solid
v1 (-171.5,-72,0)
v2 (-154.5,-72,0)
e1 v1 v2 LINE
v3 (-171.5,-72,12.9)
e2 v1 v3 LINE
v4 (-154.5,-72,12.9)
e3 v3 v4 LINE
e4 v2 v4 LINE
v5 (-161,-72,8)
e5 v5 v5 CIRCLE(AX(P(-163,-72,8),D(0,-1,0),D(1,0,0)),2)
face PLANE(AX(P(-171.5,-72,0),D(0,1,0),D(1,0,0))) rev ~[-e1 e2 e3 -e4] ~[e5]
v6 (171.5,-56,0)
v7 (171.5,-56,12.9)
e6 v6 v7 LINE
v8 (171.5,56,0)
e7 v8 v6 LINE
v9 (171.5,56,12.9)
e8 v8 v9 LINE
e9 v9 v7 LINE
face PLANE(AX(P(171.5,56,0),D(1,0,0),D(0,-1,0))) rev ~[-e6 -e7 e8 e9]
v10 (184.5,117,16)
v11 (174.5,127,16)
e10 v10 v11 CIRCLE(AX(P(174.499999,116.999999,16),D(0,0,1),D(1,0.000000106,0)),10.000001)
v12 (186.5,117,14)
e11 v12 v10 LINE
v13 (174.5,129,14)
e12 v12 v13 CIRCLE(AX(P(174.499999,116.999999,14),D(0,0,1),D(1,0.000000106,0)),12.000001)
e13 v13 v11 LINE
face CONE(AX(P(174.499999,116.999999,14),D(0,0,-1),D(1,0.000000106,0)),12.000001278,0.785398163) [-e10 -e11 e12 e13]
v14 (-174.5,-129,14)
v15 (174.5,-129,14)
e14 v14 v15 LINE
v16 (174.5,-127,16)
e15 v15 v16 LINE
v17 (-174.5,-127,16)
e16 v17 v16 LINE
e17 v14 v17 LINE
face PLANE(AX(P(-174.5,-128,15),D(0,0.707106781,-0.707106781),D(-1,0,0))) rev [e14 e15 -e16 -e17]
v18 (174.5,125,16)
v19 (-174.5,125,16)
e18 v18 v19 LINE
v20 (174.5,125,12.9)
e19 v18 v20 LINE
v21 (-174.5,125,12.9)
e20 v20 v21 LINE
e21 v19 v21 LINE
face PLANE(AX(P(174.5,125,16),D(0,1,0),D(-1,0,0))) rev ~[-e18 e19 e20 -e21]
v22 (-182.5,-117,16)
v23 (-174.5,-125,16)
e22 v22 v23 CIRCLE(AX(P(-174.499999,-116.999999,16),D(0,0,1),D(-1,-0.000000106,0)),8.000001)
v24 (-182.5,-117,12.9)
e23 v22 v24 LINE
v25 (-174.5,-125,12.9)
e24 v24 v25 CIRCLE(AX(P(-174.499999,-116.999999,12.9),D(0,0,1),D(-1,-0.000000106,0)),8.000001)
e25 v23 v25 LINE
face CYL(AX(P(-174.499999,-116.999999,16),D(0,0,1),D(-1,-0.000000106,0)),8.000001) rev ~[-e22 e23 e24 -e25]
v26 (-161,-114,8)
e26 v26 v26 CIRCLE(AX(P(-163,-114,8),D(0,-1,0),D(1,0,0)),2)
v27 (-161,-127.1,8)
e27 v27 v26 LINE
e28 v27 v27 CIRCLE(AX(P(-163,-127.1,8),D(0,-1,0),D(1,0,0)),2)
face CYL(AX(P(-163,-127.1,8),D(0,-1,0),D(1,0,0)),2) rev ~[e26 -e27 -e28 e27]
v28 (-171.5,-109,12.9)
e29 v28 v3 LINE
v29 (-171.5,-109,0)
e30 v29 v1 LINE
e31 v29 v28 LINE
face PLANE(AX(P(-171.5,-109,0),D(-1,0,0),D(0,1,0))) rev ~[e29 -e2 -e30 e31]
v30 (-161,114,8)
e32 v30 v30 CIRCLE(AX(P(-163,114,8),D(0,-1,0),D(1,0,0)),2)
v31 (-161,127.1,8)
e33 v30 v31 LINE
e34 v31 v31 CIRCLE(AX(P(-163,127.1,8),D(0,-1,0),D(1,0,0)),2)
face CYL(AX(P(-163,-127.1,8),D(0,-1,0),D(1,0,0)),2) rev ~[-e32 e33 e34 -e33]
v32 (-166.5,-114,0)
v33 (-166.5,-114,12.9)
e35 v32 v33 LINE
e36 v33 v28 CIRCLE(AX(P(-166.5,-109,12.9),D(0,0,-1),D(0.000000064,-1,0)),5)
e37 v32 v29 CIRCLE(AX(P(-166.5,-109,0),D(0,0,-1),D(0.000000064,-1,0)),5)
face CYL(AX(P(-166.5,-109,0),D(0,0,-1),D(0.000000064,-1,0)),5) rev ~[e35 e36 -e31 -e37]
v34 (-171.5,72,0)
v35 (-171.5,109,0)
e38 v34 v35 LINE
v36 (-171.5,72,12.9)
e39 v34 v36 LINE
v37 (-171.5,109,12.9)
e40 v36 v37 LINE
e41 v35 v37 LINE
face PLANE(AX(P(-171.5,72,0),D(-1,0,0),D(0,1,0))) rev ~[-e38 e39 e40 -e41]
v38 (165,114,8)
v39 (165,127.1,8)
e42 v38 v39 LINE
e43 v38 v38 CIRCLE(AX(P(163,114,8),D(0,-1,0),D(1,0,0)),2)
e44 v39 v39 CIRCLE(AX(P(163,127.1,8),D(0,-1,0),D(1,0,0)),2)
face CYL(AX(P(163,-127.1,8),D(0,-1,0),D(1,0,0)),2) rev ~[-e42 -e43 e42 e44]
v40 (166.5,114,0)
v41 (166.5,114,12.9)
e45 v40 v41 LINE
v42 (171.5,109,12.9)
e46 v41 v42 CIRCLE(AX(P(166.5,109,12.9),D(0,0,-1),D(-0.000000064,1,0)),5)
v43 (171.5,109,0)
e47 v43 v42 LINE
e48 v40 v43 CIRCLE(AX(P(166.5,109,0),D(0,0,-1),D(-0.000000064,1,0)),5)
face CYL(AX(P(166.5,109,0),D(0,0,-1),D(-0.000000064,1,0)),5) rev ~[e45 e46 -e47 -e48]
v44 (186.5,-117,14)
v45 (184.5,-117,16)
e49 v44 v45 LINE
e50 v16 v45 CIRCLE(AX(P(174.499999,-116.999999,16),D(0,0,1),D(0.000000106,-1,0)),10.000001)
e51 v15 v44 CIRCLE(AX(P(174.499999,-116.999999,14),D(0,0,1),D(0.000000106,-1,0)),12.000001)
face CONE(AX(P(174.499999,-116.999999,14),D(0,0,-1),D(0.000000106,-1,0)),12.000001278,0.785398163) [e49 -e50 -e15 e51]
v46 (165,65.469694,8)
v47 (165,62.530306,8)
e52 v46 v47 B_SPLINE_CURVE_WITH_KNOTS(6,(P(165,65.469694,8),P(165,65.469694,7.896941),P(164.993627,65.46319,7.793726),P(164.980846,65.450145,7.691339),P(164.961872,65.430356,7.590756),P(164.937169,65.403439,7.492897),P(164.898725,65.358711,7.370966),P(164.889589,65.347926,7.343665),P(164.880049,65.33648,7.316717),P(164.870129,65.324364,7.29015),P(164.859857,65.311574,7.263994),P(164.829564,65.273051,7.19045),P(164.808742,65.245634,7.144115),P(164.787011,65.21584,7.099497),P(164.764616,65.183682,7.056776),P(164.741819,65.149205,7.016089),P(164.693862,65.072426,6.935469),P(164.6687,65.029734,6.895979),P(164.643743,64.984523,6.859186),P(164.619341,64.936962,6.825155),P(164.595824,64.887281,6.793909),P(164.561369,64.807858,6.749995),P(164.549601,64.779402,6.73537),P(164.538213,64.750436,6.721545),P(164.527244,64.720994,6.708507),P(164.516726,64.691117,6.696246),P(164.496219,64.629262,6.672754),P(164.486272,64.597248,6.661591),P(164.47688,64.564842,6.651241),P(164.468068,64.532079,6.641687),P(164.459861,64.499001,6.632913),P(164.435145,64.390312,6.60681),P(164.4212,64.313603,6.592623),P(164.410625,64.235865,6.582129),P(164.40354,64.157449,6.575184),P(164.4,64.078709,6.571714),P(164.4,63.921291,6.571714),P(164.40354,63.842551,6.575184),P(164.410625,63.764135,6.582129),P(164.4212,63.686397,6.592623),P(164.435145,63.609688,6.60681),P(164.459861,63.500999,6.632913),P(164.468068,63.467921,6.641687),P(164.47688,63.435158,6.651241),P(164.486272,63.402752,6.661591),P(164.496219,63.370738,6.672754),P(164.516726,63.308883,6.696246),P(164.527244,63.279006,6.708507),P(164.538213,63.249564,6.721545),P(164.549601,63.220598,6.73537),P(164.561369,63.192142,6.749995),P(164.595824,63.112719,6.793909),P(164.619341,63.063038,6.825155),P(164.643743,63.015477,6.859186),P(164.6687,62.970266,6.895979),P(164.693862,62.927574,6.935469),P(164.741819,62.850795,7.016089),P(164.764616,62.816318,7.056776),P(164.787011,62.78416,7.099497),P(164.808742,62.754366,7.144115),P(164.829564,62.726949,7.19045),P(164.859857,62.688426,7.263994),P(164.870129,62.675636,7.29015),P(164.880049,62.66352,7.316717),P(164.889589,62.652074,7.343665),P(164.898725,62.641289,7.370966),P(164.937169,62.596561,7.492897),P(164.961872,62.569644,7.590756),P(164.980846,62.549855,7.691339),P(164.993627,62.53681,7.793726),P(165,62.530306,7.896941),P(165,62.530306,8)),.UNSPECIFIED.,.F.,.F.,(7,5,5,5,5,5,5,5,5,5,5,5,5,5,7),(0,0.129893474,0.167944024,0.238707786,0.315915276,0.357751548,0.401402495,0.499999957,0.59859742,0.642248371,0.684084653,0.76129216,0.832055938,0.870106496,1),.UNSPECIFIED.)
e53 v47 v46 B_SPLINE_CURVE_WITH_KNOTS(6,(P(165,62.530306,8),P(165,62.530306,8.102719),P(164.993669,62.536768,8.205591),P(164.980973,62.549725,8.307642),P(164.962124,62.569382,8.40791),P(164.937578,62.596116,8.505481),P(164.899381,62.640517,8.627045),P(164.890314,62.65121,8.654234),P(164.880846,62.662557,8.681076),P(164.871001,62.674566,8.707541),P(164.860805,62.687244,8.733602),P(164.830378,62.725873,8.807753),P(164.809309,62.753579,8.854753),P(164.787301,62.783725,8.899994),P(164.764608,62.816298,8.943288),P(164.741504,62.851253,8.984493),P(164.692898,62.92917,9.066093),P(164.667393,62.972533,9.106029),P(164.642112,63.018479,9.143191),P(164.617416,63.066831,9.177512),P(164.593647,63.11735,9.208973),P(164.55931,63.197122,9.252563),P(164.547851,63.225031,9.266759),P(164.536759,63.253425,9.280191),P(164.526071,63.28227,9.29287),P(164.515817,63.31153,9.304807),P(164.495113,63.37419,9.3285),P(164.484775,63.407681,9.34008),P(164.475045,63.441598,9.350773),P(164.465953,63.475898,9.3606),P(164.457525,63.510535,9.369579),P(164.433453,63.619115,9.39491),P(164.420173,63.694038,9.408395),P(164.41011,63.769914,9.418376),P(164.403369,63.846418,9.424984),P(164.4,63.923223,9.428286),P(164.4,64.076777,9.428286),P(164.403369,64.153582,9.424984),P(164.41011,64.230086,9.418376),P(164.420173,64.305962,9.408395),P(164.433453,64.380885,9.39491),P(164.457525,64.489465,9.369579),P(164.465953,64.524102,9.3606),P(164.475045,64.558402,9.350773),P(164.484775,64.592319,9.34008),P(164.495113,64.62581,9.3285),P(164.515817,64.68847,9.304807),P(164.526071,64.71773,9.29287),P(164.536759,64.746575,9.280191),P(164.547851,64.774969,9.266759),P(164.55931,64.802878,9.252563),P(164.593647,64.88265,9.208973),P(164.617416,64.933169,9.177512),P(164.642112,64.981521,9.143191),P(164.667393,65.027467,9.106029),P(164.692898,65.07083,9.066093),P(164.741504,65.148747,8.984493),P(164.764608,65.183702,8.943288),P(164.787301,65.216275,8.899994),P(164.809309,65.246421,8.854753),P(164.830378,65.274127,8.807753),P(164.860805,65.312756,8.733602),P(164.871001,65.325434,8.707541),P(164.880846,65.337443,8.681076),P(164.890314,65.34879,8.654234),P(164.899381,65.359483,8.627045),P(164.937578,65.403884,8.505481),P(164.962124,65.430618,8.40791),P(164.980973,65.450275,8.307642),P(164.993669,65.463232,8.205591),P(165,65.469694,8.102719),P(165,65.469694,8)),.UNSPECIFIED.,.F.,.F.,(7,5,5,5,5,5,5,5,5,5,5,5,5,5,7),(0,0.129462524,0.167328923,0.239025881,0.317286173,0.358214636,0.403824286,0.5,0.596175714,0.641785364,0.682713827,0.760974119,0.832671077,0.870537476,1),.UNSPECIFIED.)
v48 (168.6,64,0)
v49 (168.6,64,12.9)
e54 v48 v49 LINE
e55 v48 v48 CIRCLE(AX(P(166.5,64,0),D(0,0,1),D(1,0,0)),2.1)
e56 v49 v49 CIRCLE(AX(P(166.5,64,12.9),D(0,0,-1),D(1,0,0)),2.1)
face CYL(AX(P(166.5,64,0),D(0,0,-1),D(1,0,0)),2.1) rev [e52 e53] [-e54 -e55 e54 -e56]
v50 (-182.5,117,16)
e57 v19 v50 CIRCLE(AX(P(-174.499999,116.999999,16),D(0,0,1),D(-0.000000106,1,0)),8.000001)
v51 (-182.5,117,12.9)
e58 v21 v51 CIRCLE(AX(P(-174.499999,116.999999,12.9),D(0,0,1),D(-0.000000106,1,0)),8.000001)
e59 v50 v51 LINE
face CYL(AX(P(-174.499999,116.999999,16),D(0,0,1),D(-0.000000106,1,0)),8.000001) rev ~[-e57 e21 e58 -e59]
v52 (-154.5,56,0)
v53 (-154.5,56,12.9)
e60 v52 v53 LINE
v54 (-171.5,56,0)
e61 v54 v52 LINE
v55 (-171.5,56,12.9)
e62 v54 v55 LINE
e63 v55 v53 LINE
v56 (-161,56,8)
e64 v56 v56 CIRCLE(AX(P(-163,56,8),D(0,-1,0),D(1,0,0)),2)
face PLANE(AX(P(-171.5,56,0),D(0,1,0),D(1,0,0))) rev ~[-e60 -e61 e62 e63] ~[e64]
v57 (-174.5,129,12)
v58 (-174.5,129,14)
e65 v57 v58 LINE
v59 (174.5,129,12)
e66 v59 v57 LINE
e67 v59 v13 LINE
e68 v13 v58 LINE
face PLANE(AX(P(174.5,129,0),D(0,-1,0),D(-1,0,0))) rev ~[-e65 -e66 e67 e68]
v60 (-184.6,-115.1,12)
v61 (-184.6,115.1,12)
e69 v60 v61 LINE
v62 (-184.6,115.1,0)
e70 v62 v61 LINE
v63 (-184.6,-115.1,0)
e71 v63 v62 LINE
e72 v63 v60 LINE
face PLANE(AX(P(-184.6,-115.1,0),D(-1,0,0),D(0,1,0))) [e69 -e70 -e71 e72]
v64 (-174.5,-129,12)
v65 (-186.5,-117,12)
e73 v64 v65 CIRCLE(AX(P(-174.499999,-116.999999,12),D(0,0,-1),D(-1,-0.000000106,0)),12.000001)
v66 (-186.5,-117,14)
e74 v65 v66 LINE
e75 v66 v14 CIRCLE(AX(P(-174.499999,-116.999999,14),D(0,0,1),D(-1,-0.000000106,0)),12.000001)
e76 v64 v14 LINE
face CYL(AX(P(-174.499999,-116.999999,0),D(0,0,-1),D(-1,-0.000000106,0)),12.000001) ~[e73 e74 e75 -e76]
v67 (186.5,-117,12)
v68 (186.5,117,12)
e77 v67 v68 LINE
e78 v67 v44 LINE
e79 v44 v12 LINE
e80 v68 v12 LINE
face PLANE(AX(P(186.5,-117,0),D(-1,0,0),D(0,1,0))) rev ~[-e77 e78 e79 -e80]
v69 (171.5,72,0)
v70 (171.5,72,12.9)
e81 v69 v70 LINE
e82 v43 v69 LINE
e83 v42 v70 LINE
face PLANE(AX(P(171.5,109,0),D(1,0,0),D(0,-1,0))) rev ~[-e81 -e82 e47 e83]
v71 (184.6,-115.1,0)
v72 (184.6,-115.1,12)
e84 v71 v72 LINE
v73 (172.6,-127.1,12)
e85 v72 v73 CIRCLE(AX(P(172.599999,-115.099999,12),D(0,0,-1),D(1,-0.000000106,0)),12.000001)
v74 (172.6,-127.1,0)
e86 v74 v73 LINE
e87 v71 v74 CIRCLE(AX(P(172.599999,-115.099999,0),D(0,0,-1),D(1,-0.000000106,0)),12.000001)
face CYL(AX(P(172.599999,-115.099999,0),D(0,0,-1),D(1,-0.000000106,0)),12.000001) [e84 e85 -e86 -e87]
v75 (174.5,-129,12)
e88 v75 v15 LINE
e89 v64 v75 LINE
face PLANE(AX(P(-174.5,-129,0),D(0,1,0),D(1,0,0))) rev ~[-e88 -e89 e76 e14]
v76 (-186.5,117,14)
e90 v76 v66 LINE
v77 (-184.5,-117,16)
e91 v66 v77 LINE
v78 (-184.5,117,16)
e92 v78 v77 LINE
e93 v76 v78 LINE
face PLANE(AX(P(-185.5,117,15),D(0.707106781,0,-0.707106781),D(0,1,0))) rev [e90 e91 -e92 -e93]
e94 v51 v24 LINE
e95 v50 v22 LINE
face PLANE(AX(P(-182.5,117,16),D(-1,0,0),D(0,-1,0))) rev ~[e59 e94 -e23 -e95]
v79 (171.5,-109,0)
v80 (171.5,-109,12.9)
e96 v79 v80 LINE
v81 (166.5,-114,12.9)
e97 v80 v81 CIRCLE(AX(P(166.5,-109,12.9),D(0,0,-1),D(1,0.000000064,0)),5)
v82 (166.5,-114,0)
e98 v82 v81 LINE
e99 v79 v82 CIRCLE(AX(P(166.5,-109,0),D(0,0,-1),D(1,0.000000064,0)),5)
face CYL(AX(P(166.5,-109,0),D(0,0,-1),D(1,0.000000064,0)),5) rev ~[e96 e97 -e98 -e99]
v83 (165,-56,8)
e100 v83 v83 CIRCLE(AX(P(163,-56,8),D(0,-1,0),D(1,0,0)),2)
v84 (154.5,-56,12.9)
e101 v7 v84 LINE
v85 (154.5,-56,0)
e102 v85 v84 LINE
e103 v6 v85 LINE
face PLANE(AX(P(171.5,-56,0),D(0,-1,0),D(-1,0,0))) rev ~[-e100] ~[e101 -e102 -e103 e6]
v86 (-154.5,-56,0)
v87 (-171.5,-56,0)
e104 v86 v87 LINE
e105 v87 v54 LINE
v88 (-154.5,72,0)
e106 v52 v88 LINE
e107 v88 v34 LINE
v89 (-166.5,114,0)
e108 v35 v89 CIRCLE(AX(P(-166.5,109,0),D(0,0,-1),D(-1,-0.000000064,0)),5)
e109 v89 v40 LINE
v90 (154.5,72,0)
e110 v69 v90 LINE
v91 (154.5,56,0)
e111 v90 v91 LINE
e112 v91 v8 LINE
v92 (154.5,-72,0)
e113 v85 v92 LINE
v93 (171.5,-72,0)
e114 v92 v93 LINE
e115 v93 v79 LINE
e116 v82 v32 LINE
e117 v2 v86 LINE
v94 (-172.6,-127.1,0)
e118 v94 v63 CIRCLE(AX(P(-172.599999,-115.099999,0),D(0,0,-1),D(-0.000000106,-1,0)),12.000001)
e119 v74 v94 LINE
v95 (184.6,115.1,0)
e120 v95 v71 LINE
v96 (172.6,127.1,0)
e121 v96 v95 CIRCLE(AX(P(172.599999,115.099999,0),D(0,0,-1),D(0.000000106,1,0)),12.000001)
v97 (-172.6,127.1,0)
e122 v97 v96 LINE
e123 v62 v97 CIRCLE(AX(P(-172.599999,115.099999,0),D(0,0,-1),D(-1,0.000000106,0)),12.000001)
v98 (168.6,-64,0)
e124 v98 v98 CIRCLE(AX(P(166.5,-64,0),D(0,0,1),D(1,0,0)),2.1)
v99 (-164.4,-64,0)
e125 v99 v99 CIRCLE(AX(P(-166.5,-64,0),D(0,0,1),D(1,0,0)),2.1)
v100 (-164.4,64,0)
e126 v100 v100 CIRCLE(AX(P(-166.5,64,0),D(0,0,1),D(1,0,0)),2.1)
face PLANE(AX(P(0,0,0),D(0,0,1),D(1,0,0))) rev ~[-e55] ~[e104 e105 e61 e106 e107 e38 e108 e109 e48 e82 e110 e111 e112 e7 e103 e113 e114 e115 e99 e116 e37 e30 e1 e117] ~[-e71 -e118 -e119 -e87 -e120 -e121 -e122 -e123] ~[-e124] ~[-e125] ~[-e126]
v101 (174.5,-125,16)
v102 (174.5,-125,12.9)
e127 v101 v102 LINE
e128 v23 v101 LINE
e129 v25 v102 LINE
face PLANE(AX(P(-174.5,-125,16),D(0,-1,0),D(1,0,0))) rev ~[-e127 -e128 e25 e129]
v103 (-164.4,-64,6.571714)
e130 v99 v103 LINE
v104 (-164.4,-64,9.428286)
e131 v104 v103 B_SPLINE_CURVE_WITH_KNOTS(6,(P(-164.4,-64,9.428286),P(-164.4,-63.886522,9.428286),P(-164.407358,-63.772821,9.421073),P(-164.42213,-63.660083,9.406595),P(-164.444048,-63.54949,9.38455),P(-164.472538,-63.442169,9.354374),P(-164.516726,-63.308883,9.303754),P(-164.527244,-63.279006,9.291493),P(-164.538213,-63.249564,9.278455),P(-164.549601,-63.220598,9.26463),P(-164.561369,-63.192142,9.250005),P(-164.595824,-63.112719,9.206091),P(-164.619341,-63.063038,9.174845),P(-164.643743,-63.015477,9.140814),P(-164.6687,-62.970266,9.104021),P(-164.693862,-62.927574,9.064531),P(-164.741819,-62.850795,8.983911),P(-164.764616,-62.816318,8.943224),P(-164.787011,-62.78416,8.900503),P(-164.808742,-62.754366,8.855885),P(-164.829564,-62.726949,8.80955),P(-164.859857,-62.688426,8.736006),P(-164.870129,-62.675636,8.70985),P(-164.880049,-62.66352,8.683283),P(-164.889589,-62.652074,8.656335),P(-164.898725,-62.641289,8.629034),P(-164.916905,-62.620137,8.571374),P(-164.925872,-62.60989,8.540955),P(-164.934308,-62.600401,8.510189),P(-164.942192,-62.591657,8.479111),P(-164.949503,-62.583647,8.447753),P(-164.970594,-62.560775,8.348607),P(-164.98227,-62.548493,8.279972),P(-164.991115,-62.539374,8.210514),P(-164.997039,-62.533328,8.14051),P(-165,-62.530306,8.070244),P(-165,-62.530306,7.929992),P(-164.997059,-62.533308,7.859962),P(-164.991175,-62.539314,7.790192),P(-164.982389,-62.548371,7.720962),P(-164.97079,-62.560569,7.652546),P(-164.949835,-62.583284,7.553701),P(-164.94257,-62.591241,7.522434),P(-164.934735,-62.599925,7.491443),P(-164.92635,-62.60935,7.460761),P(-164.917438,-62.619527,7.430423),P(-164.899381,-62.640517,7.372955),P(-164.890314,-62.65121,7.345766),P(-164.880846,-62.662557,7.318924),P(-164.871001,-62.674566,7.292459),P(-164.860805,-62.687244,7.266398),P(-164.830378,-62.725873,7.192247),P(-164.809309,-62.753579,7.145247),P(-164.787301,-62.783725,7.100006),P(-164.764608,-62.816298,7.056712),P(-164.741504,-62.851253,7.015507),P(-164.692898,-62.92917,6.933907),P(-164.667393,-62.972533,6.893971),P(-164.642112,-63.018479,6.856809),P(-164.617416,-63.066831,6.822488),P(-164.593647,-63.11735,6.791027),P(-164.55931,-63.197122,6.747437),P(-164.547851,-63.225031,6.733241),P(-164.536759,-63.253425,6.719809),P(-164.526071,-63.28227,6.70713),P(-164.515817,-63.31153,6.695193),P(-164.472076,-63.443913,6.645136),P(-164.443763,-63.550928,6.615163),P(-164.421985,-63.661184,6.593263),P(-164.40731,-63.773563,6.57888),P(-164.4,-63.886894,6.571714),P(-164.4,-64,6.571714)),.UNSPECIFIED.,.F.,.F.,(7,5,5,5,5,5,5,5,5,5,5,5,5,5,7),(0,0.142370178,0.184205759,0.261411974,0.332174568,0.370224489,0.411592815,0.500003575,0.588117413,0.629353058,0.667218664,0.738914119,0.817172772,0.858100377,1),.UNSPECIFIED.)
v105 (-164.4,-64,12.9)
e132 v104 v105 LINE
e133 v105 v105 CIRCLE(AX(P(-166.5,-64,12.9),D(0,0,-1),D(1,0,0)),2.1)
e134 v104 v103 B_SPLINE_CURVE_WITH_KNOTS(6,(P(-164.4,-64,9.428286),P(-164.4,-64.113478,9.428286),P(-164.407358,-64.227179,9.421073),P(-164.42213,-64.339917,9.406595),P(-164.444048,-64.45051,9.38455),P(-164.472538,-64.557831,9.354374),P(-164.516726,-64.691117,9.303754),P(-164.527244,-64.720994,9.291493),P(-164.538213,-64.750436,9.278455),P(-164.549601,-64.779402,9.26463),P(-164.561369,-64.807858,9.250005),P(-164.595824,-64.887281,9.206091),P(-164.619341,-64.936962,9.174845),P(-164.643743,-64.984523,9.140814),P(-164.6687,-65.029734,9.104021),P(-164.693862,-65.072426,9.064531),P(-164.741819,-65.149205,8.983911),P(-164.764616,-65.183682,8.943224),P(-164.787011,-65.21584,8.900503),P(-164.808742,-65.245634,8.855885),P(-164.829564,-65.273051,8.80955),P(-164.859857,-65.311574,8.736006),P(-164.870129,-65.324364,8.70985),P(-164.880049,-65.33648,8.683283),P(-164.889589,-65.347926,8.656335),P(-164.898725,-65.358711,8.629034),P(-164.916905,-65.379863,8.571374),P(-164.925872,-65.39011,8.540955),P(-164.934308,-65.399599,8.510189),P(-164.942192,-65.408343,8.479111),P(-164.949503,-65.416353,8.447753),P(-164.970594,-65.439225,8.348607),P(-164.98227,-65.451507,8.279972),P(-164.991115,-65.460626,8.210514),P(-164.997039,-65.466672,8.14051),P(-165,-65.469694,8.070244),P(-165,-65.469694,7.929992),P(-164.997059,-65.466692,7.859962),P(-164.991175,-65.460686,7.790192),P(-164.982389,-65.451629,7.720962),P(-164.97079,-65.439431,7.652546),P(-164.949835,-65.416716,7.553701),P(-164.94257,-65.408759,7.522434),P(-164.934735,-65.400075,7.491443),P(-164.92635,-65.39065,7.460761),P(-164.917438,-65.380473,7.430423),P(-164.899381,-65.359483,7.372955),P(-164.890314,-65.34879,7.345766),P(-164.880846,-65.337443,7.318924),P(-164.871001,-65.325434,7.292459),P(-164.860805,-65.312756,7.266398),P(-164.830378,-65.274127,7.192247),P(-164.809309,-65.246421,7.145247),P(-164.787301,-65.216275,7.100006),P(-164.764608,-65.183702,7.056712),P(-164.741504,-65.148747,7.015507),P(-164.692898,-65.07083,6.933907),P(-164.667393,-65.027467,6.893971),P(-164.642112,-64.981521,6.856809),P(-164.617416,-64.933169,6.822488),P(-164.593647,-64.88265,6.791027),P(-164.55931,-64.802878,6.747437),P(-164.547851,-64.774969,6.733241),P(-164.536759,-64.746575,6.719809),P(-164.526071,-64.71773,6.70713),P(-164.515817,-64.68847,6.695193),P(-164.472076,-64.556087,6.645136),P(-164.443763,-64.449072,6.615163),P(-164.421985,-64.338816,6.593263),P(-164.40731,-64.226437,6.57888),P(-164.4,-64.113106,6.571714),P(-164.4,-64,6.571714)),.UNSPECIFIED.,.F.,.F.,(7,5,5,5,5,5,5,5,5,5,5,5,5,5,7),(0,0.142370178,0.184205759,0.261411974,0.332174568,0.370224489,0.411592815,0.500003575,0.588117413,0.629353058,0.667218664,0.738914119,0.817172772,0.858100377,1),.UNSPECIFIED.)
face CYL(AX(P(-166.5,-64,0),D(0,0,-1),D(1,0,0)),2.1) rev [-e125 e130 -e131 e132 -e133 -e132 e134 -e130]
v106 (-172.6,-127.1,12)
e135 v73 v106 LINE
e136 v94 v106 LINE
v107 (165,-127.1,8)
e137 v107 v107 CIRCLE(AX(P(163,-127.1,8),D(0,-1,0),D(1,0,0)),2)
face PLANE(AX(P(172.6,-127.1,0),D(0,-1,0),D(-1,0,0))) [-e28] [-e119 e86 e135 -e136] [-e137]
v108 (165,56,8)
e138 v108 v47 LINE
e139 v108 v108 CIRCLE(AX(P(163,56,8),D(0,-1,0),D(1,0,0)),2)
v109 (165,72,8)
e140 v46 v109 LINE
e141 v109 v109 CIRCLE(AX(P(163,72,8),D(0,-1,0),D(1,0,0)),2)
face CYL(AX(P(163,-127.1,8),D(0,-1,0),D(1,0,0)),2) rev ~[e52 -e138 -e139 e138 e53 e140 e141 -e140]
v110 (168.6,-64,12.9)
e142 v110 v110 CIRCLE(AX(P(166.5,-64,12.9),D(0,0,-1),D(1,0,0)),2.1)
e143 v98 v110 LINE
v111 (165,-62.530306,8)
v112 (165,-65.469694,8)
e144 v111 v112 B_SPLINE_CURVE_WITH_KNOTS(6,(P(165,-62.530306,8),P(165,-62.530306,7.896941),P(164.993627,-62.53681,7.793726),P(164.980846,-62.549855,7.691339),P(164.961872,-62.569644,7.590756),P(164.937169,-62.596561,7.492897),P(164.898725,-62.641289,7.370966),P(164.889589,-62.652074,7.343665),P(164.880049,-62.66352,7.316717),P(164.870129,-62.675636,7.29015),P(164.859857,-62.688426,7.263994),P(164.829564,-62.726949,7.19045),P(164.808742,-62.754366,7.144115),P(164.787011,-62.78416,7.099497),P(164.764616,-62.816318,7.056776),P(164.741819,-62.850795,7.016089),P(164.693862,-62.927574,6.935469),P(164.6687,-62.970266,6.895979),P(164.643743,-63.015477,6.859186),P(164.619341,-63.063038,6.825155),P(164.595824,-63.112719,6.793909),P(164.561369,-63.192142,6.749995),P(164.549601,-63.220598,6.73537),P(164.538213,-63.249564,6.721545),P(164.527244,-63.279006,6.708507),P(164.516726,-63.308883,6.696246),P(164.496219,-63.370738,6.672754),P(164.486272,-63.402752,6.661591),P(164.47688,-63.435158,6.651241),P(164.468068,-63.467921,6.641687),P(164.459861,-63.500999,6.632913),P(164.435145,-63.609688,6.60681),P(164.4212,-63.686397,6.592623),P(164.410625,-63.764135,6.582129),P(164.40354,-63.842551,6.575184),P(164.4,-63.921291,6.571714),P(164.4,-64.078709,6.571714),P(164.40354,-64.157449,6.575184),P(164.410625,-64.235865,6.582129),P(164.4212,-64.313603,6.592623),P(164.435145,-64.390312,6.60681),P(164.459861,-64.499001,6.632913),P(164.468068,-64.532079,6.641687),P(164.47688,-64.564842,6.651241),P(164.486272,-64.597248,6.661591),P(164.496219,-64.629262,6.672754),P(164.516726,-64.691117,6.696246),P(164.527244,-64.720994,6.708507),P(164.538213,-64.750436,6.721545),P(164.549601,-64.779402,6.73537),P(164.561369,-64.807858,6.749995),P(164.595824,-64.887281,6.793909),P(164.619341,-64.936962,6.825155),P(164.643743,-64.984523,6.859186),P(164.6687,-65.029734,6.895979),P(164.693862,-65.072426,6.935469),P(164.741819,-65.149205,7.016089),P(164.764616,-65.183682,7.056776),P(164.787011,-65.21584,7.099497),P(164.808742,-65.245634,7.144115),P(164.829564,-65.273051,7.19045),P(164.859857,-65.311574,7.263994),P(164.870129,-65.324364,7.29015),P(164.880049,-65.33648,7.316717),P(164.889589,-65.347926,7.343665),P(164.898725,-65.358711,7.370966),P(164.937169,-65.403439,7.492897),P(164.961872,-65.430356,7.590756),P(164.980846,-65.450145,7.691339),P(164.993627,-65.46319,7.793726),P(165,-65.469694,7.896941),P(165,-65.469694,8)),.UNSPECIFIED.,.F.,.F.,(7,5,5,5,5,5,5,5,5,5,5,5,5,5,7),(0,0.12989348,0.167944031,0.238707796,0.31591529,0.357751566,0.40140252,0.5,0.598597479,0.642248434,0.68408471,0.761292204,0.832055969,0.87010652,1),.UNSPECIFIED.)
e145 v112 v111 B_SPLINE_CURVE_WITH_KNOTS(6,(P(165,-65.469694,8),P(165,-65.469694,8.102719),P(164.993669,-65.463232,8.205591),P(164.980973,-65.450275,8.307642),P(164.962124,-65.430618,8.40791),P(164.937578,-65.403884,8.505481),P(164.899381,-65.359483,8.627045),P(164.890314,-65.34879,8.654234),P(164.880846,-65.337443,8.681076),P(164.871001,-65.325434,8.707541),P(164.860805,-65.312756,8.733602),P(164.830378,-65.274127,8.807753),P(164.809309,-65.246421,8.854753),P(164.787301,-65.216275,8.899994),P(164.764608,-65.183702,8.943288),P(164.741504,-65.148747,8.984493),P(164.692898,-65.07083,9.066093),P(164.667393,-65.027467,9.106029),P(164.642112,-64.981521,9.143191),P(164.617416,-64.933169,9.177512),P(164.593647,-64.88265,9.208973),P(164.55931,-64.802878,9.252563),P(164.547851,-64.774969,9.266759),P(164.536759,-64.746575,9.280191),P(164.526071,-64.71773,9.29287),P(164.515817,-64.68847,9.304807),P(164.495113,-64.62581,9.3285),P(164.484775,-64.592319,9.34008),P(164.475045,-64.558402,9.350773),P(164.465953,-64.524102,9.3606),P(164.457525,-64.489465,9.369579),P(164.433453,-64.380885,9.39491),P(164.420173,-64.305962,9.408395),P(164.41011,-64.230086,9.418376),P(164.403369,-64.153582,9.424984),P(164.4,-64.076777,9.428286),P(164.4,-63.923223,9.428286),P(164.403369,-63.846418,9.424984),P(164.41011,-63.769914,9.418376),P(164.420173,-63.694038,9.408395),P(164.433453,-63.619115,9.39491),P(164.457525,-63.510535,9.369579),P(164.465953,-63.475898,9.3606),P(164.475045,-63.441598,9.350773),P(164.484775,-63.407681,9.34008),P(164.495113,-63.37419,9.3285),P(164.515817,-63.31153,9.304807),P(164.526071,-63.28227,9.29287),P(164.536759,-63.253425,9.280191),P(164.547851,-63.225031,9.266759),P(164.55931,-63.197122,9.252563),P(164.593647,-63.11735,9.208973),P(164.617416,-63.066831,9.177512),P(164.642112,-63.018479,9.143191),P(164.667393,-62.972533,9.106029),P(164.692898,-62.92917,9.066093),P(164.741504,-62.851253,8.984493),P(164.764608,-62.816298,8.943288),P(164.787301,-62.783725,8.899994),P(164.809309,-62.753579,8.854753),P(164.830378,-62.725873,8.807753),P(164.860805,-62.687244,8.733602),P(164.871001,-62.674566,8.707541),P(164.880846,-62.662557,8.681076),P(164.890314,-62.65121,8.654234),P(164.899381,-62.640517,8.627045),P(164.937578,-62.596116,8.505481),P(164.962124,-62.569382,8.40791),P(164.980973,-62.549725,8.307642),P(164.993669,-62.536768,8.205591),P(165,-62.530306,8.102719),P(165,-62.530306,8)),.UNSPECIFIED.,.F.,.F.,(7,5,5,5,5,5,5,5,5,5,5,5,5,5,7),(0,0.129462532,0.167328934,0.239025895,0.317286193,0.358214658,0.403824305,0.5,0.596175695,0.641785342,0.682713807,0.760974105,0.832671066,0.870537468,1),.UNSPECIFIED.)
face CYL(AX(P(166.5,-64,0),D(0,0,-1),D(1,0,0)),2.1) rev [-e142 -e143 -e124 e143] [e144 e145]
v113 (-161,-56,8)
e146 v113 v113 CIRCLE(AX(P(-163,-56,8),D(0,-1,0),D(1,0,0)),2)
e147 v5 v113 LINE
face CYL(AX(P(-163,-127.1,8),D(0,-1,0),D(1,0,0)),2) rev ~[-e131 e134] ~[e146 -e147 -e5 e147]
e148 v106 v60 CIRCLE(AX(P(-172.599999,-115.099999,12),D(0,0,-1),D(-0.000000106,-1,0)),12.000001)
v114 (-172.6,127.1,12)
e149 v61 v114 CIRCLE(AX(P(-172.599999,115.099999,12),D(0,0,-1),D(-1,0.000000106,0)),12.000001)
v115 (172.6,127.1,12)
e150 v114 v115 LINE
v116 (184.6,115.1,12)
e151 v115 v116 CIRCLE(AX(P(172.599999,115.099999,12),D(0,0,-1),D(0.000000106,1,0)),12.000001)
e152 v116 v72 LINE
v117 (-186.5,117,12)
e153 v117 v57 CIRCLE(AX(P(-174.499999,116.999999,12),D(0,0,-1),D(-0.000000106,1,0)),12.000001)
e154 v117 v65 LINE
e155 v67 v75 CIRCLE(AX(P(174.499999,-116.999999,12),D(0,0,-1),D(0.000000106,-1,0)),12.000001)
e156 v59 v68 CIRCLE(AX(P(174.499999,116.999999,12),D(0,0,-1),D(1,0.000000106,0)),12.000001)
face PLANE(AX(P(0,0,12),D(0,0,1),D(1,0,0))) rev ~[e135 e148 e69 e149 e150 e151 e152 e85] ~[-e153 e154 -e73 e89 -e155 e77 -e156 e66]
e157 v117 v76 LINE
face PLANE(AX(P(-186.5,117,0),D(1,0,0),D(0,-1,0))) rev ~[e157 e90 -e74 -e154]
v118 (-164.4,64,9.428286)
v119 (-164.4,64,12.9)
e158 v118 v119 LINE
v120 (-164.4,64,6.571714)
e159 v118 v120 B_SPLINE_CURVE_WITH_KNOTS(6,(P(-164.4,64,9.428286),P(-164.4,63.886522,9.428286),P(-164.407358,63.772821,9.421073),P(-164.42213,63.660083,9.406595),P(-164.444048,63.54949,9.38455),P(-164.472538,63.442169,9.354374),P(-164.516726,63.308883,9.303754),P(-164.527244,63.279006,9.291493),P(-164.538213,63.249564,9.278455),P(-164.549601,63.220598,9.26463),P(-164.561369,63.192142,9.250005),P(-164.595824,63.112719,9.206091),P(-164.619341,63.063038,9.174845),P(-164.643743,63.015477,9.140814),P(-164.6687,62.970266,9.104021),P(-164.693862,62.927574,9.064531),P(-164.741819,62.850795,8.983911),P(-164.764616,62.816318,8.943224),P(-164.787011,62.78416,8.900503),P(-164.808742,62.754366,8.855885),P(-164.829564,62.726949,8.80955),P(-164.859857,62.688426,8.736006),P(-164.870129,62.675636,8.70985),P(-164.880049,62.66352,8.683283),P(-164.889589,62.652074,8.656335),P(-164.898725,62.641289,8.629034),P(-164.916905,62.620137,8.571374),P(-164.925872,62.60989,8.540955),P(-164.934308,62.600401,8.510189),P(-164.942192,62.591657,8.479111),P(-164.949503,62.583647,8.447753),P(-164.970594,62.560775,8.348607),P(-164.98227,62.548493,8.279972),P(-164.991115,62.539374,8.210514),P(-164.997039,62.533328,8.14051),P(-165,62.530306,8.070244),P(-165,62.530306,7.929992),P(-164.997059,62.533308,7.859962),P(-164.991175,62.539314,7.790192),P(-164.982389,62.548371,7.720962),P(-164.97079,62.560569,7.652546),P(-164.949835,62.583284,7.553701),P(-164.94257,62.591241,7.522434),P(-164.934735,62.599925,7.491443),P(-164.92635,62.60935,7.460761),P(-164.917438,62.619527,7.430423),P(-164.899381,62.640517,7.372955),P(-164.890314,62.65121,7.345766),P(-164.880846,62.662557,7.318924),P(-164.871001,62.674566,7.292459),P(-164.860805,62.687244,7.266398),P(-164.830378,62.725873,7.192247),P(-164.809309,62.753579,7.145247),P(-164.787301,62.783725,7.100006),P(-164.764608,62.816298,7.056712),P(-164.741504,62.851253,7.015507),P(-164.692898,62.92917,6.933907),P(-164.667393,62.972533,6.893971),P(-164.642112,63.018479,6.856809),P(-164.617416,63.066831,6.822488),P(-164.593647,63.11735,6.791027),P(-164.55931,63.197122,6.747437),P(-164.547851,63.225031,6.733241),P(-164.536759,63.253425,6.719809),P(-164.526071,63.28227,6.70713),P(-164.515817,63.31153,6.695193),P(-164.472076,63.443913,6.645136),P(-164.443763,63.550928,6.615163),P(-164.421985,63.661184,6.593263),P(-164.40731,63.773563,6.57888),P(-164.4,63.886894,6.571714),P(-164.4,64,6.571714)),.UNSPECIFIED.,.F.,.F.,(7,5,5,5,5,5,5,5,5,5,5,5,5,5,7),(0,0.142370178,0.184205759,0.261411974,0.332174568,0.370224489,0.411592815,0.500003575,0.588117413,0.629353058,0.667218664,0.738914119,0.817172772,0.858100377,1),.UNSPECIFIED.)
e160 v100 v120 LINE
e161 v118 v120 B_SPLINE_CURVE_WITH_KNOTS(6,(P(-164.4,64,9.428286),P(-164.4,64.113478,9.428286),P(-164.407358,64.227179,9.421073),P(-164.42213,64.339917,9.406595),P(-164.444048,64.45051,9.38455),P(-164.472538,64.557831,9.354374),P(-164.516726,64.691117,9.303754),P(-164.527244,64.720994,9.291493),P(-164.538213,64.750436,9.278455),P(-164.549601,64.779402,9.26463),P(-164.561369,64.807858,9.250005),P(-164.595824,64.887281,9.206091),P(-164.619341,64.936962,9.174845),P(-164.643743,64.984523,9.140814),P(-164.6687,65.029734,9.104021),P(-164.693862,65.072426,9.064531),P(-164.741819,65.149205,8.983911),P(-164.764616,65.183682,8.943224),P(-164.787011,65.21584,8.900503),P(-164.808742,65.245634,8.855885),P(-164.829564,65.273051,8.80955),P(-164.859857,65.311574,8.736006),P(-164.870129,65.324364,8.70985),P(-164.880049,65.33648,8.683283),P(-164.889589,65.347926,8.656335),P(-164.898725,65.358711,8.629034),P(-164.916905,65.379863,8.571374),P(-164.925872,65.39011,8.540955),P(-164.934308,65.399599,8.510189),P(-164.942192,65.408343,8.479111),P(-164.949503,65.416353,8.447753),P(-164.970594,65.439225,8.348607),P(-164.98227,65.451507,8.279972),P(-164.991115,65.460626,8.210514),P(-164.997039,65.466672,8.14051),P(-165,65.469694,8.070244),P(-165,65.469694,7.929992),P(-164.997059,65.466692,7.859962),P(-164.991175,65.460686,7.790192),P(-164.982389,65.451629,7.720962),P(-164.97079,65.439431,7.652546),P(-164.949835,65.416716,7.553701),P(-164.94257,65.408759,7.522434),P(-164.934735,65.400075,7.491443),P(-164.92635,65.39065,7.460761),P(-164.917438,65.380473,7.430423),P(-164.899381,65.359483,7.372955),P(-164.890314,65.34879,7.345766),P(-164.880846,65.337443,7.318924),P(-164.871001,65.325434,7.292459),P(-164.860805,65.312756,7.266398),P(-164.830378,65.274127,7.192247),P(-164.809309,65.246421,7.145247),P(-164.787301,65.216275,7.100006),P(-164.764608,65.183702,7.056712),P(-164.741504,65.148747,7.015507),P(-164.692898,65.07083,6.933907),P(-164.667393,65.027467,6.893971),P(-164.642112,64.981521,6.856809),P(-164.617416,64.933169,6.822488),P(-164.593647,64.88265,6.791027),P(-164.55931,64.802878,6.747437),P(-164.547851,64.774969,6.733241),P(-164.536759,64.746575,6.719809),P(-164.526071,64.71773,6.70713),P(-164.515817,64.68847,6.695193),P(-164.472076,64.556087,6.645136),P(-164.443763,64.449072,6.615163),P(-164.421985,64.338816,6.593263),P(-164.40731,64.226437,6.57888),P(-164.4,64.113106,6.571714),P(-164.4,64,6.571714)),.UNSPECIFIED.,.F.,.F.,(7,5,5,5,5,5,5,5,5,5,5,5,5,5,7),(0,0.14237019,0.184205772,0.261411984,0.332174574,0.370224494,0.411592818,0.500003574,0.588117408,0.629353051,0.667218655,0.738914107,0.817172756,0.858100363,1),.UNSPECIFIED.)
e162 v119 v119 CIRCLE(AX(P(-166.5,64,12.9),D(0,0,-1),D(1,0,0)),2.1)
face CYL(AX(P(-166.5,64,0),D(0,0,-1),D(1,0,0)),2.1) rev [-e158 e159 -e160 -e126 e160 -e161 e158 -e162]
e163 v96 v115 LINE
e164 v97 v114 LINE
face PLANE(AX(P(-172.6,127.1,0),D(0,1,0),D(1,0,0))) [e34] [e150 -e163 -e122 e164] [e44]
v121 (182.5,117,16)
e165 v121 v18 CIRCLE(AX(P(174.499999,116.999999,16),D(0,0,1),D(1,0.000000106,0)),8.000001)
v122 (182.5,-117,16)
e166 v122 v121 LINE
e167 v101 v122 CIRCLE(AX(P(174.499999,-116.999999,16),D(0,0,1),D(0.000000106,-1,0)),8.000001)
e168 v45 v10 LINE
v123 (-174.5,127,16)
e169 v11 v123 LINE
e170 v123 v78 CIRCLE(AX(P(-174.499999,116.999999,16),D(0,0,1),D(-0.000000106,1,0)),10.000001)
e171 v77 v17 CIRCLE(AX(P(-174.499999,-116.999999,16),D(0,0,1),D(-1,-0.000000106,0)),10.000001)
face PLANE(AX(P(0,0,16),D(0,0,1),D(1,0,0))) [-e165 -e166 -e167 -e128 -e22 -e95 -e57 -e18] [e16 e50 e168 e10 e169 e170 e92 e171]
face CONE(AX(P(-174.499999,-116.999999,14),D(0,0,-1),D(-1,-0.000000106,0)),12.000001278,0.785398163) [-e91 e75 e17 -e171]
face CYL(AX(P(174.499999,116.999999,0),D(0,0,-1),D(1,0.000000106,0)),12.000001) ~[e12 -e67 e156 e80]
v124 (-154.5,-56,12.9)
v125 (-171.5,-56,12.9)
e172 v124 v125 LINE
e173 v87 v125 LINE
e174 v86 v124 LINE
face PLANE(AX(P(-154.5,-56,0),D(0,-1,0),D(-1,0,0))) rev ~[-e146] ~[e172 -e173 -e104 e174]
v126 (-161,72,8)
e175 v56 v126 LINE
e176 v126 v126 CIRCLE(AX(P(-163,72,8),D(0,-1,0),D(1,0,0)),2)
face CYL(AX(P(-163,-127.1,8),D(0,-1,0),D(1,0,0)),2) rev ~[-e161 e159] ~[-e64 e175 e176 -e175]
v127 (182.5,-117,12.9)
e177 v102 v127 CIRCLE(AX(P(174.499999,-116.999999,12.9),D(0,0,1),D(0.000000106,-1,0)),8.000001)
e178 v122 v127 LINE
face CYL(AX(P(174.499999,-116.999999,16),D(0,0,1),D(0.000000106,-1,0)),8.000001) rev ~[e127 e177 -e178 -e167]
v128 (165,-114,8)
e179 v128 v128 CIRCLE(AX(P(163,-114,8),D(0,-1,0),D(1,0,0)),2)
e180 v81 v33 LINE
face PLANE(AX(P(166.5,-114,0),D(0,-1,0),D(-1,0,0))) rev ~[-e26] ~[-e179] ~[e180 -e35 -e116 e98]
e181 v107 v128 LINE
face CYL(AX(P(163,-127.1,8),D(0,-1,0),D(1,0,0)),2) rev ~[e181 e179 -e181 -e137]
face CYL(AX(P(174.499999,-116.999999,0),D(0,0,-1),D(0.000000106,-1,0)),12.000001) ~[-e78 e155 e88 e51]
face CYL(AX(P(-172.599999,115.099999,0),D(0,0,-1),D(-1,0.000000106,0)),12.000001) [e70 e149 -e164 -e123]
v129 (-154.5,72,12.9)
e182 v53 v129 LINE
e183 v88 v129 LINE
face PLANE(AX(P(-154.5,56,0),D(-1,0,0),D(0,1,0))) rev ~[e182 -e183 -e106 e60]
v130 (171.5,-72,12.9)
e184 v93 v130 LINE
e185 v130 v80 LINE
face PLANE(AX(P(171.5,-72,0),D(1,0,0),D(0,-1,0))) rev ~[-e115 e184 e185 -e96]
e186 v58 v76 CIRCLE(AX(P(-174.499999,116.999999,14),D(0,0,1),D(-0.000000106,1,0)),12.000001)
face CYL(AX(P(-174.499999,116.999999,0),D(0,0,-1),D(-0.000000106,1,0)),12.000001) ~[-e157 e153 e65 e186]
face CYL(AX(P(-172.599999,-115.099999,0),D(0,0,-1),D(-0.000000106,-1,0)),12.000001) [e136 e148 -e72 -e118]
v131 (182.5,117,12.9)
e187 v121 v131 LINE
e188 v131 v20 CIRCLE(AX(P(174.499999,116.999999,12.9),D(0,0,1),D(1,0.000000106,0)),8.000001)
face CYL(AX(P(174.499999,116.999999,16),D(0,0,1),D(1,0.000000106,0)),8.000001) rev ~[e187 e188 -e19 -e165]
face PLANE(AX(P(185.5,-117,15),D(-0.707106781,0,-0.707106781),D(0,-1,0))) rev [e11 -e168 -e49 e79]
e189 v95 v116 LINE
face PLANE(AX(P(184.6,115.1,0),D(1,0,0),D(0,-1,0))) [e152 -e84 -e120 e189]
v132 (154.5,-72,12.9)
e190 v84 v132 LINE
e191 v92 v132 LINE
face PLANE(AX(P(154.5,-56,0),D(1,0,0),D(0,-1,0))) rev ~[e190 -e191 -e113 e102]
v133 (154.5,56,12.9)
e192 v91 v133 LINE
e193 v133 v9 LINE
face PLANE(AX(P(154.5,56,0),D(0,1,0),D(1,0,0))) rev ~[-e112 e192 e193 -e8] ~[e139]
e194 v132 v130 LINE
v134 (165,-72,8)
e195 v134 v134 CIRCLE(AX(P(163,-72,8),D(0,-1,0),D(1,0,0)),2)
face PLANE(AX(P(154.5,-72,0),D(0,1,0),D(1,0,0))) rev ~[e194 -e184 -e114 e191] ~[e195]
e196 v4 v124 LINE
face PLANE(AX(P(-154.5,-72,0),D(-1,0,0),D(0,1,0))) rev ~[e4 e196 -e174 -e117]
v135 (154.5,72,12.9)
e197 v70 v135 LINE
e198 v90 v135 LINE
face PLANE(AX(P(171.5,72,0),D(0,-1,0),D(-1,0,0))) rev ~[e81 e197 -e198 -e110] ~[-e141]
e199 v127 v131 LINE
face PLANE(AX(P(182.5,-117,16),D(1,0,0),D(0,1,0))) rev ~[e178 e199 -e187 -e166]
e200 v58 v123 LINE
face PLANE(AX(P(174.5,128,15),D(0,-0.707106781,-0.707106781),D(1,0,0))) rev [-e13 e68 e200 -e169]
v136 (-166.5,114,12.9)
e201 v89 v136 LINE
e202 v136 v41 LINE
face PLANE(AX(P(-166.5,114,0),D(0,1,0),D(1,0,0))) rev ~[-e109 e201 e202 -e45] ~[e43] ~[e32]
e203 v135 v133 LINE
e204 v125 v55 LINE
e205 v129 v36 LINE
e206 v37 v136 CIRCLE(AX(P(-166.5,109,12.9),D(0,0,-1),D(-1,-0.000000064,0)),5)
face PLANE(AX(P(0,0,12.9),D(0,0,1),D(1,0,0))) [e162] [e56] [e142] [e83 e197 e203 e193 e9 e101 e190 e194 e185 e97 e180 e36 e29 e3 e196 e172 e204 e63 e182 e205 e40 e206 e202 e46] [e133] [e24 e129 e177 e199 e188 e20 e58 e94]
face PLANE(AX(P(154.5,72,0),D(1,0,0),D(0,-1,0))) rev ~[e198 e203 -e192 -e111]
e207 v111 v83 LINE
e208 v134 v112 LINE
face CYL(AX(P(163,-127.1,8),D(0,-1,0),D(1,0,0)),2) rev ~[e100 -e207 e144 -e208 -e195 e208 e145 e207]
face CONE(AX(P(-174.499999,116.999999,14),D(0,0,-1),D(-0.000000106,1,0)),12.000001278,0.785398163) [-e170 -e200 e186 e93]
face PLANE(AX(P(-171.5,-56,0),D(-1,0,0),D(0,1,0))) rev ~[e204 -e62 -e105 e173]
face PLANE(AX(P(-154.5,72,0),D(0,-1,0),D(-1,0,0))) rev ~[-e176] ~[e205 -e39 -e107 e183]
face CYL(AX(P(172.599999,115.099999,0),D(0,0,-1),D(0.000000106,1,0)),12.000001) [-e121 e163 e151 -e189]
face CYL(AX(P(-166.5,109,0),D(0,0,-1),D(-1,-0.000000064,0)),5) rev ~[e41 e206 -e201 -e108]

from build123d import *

# Parameters (mm, degrees)
F0_R     = 2.1
F1_DEPTH = 16
F2_SIZE  = 2
F4_DEPTH = 3.1
F6_DEPTH = 12
F7_R     = 2
F8_DEPTH = 256.101


with BuildPart() as f1:
    # F0 (on Top) → F1 (new body)
    with BuildSketch(Plane.XY):
        with BuildLine():
            Line((174.5, 129), (-174.5, 129))
            ThreePointArc((-174.5, 129), (-182.985281, 125.485281), (-186.5, 117))
            Line((-186.5, 117), (-186.5, -117))
            ThreePointArc((-186.5, -117), (-182.985281, -125.485281), (-174.5, -129))
            Line((-174.5, -129), (174.5, -129))
            ThreePointArc((174.5, -129), (182.985281, -125.485281), (186.5, -117))
            Line((186.5, -117), (186.5, 117))
            ThreePointArc((186.5, 117), (182.985281, 125.485281), (174.5, 129))
        make_face()
        with Locations((-166.5, -64)):
            Circle(F0_R, mode=Mode.SUBTRACT)
        with Locations((166.5, -64)):
            Circle(F0_R, mode=Mode.SUBTRACT)
        with Locations((-166.5, 64)):
            Circle(F0_R, mode=Mode.SUBTRACT)
        with BuildLine():
            ThreePointArc((-171.5, 109), (-170.035534, 112.535534), (-166.5, 114))
            Line((-166.5, 114), (166.5, 114))
            ThreePointArc((166.5, 114), (170.035534, 112.535534), (171.5, 109))
            Line((171.5, 109), (171.5, 72))
            Line((171.5, 72), (154.5, 72))
            Line((154.5, 72), (154.5, 56))
            Line((154.5, 56), (171.5, 56))
            Line((171.5, 56), (171.5, -56))
            Line((171.5, -56), (154.5, -56))
            Line((154.5, -56), (154.5, -72))
            Line((154.5, -72), (171.5, -72))
            Line((171.5, -72), (171.5, -109))
            ThreePointArc((171.5, -109), (170.035534, -112.535534), (166.5, -114))
            Line((166.5, -114), (-166.5, -114))
            ThreePointArc((-166.5, -114), (-170.035534, -112.535534), (-171.5, -109))
            Line((-171.5, -109), (-171.5, -72))
            Line((-171.5, -72), (-154.5, -72))
            Line((-154.5, -72), (-154.5, -56))
            Line((-154.5, -56), (-171.5, -56))
            Line((-171.5, -56), (-171.5, 56))
            Line((-171.5, 56), (-154.5, 56))
            Line((-154.5, 56), (-154.5, 72))
            Line((-154.5, 72), (-171.5, 72))
            Line((-171.5, 72), (-171.5, 109))
        make_face(mode=Mode.SUBTRACT)
        with Locations((166.5, 64)):
            Circle(F0_R, mode=Mode.SUBTRACT)
    extrude(amount=F1_DEPTH)

    # F2
    f2_edges = [f1.edges().sort_by_distance(p)[0] for p in [
        (0, -129, 16),
    ]]
    chamfer(f2_edges, length=F2_SIZE)

    # F3 (on face) → F4 (cut)
    with BuildSketch(Plane.XY.offset(16)):
        with BuildLine():
            ThreePointArc((-174.5, 125), (-180.156854, 122.656854), (-182.5, 117))
            Line((-182.5, 117), (-182.5, -117))
            ThreePointArc((-182.5, -117), (-180.156854, -122.656854), (-174.5, -125))
            Line((-174.5, -125), (174.5, -125))
            ThreePointArc((174.5, -125), (180.156854, -122.656854), (182.5, -117))
            Line((182.5, -117), (182.5, 117))
            ThreePointArc((182.5, 117), (180.156854, 122.656854), (174.5, 125))
            Line((174.5, 125), (-174.5, 125))
        make_face()
    extrude(amount=-F4_DEPTH, mode=Mode.SUBTRACT)

    # F5 (on face) → F6 (cut)
    with BuildSketch(Plane.XY):
        with BuildLine():
            Line((172.6, 132.1), (-172.6, 132.1))
            ThreePointArc((-172.6, 132.1), (-184.620815, 127.120815), (-189.6, 115.1))
            Line((-189.6, 115.1), (-189.6, -115.1))
            ThreePointArc((-189.6, -115.1), (-184.620815, -127.120815), (-172.6, -132.1))
            Line((-172.6, -132.1), (172.6, -132.1))
            ThreePointArc((172.6, -132.1), (184.620815, -127.120815), (189.6, -115.1))
            Line((189.6, -115.1), (189.6, 115.1))
            ThreePointArc((189.6, 115.1), (184.620815, 127.120815), (172.6, 132.1))
        make_face()
        with BuildLine():
            ThreePointArc((-184.6, 115.1), (-181.085281, 123.585281), (-172.6, 127.1))
            Line((-172.6, 127.1), (172.6, 127.1))
            ThreePointArc((172.6, 127.1), (181.085281, 123.585281), (184.6, 115.1))
            Line((184.6, 115.1), (184.6, -115.1))
            ThreePointArc((184.6, -115.1), (181.085281, -123.585281), (172.6, -127.1))
            Line((172.6, -127.1), (-172.6, -127.1))
            ThreePointArc((-172.6, -127.1), (-181.085281, -123.585281), (-184.6, -115.1))
            Line((-184.6, -115.1), (-184.6, 115.1))
        make_face(mode=Mode.SUBTRACT)
    extrude(amount=F6_DEPTH, mode=Mode.SUBTRACT)

    # F7 (on face) → F8 (cut, through all)
    with BuildSketch(Plane.XZ.offset(127.1)):
        with Locations((-163, 8)):
            Circle(F7_R)
        with Locations((163, 8)):
            Circle(F7_R)
    extrude(amount=-F8_DEPTH, mode=Mode.SUBTRACT)


solid = f1.part
